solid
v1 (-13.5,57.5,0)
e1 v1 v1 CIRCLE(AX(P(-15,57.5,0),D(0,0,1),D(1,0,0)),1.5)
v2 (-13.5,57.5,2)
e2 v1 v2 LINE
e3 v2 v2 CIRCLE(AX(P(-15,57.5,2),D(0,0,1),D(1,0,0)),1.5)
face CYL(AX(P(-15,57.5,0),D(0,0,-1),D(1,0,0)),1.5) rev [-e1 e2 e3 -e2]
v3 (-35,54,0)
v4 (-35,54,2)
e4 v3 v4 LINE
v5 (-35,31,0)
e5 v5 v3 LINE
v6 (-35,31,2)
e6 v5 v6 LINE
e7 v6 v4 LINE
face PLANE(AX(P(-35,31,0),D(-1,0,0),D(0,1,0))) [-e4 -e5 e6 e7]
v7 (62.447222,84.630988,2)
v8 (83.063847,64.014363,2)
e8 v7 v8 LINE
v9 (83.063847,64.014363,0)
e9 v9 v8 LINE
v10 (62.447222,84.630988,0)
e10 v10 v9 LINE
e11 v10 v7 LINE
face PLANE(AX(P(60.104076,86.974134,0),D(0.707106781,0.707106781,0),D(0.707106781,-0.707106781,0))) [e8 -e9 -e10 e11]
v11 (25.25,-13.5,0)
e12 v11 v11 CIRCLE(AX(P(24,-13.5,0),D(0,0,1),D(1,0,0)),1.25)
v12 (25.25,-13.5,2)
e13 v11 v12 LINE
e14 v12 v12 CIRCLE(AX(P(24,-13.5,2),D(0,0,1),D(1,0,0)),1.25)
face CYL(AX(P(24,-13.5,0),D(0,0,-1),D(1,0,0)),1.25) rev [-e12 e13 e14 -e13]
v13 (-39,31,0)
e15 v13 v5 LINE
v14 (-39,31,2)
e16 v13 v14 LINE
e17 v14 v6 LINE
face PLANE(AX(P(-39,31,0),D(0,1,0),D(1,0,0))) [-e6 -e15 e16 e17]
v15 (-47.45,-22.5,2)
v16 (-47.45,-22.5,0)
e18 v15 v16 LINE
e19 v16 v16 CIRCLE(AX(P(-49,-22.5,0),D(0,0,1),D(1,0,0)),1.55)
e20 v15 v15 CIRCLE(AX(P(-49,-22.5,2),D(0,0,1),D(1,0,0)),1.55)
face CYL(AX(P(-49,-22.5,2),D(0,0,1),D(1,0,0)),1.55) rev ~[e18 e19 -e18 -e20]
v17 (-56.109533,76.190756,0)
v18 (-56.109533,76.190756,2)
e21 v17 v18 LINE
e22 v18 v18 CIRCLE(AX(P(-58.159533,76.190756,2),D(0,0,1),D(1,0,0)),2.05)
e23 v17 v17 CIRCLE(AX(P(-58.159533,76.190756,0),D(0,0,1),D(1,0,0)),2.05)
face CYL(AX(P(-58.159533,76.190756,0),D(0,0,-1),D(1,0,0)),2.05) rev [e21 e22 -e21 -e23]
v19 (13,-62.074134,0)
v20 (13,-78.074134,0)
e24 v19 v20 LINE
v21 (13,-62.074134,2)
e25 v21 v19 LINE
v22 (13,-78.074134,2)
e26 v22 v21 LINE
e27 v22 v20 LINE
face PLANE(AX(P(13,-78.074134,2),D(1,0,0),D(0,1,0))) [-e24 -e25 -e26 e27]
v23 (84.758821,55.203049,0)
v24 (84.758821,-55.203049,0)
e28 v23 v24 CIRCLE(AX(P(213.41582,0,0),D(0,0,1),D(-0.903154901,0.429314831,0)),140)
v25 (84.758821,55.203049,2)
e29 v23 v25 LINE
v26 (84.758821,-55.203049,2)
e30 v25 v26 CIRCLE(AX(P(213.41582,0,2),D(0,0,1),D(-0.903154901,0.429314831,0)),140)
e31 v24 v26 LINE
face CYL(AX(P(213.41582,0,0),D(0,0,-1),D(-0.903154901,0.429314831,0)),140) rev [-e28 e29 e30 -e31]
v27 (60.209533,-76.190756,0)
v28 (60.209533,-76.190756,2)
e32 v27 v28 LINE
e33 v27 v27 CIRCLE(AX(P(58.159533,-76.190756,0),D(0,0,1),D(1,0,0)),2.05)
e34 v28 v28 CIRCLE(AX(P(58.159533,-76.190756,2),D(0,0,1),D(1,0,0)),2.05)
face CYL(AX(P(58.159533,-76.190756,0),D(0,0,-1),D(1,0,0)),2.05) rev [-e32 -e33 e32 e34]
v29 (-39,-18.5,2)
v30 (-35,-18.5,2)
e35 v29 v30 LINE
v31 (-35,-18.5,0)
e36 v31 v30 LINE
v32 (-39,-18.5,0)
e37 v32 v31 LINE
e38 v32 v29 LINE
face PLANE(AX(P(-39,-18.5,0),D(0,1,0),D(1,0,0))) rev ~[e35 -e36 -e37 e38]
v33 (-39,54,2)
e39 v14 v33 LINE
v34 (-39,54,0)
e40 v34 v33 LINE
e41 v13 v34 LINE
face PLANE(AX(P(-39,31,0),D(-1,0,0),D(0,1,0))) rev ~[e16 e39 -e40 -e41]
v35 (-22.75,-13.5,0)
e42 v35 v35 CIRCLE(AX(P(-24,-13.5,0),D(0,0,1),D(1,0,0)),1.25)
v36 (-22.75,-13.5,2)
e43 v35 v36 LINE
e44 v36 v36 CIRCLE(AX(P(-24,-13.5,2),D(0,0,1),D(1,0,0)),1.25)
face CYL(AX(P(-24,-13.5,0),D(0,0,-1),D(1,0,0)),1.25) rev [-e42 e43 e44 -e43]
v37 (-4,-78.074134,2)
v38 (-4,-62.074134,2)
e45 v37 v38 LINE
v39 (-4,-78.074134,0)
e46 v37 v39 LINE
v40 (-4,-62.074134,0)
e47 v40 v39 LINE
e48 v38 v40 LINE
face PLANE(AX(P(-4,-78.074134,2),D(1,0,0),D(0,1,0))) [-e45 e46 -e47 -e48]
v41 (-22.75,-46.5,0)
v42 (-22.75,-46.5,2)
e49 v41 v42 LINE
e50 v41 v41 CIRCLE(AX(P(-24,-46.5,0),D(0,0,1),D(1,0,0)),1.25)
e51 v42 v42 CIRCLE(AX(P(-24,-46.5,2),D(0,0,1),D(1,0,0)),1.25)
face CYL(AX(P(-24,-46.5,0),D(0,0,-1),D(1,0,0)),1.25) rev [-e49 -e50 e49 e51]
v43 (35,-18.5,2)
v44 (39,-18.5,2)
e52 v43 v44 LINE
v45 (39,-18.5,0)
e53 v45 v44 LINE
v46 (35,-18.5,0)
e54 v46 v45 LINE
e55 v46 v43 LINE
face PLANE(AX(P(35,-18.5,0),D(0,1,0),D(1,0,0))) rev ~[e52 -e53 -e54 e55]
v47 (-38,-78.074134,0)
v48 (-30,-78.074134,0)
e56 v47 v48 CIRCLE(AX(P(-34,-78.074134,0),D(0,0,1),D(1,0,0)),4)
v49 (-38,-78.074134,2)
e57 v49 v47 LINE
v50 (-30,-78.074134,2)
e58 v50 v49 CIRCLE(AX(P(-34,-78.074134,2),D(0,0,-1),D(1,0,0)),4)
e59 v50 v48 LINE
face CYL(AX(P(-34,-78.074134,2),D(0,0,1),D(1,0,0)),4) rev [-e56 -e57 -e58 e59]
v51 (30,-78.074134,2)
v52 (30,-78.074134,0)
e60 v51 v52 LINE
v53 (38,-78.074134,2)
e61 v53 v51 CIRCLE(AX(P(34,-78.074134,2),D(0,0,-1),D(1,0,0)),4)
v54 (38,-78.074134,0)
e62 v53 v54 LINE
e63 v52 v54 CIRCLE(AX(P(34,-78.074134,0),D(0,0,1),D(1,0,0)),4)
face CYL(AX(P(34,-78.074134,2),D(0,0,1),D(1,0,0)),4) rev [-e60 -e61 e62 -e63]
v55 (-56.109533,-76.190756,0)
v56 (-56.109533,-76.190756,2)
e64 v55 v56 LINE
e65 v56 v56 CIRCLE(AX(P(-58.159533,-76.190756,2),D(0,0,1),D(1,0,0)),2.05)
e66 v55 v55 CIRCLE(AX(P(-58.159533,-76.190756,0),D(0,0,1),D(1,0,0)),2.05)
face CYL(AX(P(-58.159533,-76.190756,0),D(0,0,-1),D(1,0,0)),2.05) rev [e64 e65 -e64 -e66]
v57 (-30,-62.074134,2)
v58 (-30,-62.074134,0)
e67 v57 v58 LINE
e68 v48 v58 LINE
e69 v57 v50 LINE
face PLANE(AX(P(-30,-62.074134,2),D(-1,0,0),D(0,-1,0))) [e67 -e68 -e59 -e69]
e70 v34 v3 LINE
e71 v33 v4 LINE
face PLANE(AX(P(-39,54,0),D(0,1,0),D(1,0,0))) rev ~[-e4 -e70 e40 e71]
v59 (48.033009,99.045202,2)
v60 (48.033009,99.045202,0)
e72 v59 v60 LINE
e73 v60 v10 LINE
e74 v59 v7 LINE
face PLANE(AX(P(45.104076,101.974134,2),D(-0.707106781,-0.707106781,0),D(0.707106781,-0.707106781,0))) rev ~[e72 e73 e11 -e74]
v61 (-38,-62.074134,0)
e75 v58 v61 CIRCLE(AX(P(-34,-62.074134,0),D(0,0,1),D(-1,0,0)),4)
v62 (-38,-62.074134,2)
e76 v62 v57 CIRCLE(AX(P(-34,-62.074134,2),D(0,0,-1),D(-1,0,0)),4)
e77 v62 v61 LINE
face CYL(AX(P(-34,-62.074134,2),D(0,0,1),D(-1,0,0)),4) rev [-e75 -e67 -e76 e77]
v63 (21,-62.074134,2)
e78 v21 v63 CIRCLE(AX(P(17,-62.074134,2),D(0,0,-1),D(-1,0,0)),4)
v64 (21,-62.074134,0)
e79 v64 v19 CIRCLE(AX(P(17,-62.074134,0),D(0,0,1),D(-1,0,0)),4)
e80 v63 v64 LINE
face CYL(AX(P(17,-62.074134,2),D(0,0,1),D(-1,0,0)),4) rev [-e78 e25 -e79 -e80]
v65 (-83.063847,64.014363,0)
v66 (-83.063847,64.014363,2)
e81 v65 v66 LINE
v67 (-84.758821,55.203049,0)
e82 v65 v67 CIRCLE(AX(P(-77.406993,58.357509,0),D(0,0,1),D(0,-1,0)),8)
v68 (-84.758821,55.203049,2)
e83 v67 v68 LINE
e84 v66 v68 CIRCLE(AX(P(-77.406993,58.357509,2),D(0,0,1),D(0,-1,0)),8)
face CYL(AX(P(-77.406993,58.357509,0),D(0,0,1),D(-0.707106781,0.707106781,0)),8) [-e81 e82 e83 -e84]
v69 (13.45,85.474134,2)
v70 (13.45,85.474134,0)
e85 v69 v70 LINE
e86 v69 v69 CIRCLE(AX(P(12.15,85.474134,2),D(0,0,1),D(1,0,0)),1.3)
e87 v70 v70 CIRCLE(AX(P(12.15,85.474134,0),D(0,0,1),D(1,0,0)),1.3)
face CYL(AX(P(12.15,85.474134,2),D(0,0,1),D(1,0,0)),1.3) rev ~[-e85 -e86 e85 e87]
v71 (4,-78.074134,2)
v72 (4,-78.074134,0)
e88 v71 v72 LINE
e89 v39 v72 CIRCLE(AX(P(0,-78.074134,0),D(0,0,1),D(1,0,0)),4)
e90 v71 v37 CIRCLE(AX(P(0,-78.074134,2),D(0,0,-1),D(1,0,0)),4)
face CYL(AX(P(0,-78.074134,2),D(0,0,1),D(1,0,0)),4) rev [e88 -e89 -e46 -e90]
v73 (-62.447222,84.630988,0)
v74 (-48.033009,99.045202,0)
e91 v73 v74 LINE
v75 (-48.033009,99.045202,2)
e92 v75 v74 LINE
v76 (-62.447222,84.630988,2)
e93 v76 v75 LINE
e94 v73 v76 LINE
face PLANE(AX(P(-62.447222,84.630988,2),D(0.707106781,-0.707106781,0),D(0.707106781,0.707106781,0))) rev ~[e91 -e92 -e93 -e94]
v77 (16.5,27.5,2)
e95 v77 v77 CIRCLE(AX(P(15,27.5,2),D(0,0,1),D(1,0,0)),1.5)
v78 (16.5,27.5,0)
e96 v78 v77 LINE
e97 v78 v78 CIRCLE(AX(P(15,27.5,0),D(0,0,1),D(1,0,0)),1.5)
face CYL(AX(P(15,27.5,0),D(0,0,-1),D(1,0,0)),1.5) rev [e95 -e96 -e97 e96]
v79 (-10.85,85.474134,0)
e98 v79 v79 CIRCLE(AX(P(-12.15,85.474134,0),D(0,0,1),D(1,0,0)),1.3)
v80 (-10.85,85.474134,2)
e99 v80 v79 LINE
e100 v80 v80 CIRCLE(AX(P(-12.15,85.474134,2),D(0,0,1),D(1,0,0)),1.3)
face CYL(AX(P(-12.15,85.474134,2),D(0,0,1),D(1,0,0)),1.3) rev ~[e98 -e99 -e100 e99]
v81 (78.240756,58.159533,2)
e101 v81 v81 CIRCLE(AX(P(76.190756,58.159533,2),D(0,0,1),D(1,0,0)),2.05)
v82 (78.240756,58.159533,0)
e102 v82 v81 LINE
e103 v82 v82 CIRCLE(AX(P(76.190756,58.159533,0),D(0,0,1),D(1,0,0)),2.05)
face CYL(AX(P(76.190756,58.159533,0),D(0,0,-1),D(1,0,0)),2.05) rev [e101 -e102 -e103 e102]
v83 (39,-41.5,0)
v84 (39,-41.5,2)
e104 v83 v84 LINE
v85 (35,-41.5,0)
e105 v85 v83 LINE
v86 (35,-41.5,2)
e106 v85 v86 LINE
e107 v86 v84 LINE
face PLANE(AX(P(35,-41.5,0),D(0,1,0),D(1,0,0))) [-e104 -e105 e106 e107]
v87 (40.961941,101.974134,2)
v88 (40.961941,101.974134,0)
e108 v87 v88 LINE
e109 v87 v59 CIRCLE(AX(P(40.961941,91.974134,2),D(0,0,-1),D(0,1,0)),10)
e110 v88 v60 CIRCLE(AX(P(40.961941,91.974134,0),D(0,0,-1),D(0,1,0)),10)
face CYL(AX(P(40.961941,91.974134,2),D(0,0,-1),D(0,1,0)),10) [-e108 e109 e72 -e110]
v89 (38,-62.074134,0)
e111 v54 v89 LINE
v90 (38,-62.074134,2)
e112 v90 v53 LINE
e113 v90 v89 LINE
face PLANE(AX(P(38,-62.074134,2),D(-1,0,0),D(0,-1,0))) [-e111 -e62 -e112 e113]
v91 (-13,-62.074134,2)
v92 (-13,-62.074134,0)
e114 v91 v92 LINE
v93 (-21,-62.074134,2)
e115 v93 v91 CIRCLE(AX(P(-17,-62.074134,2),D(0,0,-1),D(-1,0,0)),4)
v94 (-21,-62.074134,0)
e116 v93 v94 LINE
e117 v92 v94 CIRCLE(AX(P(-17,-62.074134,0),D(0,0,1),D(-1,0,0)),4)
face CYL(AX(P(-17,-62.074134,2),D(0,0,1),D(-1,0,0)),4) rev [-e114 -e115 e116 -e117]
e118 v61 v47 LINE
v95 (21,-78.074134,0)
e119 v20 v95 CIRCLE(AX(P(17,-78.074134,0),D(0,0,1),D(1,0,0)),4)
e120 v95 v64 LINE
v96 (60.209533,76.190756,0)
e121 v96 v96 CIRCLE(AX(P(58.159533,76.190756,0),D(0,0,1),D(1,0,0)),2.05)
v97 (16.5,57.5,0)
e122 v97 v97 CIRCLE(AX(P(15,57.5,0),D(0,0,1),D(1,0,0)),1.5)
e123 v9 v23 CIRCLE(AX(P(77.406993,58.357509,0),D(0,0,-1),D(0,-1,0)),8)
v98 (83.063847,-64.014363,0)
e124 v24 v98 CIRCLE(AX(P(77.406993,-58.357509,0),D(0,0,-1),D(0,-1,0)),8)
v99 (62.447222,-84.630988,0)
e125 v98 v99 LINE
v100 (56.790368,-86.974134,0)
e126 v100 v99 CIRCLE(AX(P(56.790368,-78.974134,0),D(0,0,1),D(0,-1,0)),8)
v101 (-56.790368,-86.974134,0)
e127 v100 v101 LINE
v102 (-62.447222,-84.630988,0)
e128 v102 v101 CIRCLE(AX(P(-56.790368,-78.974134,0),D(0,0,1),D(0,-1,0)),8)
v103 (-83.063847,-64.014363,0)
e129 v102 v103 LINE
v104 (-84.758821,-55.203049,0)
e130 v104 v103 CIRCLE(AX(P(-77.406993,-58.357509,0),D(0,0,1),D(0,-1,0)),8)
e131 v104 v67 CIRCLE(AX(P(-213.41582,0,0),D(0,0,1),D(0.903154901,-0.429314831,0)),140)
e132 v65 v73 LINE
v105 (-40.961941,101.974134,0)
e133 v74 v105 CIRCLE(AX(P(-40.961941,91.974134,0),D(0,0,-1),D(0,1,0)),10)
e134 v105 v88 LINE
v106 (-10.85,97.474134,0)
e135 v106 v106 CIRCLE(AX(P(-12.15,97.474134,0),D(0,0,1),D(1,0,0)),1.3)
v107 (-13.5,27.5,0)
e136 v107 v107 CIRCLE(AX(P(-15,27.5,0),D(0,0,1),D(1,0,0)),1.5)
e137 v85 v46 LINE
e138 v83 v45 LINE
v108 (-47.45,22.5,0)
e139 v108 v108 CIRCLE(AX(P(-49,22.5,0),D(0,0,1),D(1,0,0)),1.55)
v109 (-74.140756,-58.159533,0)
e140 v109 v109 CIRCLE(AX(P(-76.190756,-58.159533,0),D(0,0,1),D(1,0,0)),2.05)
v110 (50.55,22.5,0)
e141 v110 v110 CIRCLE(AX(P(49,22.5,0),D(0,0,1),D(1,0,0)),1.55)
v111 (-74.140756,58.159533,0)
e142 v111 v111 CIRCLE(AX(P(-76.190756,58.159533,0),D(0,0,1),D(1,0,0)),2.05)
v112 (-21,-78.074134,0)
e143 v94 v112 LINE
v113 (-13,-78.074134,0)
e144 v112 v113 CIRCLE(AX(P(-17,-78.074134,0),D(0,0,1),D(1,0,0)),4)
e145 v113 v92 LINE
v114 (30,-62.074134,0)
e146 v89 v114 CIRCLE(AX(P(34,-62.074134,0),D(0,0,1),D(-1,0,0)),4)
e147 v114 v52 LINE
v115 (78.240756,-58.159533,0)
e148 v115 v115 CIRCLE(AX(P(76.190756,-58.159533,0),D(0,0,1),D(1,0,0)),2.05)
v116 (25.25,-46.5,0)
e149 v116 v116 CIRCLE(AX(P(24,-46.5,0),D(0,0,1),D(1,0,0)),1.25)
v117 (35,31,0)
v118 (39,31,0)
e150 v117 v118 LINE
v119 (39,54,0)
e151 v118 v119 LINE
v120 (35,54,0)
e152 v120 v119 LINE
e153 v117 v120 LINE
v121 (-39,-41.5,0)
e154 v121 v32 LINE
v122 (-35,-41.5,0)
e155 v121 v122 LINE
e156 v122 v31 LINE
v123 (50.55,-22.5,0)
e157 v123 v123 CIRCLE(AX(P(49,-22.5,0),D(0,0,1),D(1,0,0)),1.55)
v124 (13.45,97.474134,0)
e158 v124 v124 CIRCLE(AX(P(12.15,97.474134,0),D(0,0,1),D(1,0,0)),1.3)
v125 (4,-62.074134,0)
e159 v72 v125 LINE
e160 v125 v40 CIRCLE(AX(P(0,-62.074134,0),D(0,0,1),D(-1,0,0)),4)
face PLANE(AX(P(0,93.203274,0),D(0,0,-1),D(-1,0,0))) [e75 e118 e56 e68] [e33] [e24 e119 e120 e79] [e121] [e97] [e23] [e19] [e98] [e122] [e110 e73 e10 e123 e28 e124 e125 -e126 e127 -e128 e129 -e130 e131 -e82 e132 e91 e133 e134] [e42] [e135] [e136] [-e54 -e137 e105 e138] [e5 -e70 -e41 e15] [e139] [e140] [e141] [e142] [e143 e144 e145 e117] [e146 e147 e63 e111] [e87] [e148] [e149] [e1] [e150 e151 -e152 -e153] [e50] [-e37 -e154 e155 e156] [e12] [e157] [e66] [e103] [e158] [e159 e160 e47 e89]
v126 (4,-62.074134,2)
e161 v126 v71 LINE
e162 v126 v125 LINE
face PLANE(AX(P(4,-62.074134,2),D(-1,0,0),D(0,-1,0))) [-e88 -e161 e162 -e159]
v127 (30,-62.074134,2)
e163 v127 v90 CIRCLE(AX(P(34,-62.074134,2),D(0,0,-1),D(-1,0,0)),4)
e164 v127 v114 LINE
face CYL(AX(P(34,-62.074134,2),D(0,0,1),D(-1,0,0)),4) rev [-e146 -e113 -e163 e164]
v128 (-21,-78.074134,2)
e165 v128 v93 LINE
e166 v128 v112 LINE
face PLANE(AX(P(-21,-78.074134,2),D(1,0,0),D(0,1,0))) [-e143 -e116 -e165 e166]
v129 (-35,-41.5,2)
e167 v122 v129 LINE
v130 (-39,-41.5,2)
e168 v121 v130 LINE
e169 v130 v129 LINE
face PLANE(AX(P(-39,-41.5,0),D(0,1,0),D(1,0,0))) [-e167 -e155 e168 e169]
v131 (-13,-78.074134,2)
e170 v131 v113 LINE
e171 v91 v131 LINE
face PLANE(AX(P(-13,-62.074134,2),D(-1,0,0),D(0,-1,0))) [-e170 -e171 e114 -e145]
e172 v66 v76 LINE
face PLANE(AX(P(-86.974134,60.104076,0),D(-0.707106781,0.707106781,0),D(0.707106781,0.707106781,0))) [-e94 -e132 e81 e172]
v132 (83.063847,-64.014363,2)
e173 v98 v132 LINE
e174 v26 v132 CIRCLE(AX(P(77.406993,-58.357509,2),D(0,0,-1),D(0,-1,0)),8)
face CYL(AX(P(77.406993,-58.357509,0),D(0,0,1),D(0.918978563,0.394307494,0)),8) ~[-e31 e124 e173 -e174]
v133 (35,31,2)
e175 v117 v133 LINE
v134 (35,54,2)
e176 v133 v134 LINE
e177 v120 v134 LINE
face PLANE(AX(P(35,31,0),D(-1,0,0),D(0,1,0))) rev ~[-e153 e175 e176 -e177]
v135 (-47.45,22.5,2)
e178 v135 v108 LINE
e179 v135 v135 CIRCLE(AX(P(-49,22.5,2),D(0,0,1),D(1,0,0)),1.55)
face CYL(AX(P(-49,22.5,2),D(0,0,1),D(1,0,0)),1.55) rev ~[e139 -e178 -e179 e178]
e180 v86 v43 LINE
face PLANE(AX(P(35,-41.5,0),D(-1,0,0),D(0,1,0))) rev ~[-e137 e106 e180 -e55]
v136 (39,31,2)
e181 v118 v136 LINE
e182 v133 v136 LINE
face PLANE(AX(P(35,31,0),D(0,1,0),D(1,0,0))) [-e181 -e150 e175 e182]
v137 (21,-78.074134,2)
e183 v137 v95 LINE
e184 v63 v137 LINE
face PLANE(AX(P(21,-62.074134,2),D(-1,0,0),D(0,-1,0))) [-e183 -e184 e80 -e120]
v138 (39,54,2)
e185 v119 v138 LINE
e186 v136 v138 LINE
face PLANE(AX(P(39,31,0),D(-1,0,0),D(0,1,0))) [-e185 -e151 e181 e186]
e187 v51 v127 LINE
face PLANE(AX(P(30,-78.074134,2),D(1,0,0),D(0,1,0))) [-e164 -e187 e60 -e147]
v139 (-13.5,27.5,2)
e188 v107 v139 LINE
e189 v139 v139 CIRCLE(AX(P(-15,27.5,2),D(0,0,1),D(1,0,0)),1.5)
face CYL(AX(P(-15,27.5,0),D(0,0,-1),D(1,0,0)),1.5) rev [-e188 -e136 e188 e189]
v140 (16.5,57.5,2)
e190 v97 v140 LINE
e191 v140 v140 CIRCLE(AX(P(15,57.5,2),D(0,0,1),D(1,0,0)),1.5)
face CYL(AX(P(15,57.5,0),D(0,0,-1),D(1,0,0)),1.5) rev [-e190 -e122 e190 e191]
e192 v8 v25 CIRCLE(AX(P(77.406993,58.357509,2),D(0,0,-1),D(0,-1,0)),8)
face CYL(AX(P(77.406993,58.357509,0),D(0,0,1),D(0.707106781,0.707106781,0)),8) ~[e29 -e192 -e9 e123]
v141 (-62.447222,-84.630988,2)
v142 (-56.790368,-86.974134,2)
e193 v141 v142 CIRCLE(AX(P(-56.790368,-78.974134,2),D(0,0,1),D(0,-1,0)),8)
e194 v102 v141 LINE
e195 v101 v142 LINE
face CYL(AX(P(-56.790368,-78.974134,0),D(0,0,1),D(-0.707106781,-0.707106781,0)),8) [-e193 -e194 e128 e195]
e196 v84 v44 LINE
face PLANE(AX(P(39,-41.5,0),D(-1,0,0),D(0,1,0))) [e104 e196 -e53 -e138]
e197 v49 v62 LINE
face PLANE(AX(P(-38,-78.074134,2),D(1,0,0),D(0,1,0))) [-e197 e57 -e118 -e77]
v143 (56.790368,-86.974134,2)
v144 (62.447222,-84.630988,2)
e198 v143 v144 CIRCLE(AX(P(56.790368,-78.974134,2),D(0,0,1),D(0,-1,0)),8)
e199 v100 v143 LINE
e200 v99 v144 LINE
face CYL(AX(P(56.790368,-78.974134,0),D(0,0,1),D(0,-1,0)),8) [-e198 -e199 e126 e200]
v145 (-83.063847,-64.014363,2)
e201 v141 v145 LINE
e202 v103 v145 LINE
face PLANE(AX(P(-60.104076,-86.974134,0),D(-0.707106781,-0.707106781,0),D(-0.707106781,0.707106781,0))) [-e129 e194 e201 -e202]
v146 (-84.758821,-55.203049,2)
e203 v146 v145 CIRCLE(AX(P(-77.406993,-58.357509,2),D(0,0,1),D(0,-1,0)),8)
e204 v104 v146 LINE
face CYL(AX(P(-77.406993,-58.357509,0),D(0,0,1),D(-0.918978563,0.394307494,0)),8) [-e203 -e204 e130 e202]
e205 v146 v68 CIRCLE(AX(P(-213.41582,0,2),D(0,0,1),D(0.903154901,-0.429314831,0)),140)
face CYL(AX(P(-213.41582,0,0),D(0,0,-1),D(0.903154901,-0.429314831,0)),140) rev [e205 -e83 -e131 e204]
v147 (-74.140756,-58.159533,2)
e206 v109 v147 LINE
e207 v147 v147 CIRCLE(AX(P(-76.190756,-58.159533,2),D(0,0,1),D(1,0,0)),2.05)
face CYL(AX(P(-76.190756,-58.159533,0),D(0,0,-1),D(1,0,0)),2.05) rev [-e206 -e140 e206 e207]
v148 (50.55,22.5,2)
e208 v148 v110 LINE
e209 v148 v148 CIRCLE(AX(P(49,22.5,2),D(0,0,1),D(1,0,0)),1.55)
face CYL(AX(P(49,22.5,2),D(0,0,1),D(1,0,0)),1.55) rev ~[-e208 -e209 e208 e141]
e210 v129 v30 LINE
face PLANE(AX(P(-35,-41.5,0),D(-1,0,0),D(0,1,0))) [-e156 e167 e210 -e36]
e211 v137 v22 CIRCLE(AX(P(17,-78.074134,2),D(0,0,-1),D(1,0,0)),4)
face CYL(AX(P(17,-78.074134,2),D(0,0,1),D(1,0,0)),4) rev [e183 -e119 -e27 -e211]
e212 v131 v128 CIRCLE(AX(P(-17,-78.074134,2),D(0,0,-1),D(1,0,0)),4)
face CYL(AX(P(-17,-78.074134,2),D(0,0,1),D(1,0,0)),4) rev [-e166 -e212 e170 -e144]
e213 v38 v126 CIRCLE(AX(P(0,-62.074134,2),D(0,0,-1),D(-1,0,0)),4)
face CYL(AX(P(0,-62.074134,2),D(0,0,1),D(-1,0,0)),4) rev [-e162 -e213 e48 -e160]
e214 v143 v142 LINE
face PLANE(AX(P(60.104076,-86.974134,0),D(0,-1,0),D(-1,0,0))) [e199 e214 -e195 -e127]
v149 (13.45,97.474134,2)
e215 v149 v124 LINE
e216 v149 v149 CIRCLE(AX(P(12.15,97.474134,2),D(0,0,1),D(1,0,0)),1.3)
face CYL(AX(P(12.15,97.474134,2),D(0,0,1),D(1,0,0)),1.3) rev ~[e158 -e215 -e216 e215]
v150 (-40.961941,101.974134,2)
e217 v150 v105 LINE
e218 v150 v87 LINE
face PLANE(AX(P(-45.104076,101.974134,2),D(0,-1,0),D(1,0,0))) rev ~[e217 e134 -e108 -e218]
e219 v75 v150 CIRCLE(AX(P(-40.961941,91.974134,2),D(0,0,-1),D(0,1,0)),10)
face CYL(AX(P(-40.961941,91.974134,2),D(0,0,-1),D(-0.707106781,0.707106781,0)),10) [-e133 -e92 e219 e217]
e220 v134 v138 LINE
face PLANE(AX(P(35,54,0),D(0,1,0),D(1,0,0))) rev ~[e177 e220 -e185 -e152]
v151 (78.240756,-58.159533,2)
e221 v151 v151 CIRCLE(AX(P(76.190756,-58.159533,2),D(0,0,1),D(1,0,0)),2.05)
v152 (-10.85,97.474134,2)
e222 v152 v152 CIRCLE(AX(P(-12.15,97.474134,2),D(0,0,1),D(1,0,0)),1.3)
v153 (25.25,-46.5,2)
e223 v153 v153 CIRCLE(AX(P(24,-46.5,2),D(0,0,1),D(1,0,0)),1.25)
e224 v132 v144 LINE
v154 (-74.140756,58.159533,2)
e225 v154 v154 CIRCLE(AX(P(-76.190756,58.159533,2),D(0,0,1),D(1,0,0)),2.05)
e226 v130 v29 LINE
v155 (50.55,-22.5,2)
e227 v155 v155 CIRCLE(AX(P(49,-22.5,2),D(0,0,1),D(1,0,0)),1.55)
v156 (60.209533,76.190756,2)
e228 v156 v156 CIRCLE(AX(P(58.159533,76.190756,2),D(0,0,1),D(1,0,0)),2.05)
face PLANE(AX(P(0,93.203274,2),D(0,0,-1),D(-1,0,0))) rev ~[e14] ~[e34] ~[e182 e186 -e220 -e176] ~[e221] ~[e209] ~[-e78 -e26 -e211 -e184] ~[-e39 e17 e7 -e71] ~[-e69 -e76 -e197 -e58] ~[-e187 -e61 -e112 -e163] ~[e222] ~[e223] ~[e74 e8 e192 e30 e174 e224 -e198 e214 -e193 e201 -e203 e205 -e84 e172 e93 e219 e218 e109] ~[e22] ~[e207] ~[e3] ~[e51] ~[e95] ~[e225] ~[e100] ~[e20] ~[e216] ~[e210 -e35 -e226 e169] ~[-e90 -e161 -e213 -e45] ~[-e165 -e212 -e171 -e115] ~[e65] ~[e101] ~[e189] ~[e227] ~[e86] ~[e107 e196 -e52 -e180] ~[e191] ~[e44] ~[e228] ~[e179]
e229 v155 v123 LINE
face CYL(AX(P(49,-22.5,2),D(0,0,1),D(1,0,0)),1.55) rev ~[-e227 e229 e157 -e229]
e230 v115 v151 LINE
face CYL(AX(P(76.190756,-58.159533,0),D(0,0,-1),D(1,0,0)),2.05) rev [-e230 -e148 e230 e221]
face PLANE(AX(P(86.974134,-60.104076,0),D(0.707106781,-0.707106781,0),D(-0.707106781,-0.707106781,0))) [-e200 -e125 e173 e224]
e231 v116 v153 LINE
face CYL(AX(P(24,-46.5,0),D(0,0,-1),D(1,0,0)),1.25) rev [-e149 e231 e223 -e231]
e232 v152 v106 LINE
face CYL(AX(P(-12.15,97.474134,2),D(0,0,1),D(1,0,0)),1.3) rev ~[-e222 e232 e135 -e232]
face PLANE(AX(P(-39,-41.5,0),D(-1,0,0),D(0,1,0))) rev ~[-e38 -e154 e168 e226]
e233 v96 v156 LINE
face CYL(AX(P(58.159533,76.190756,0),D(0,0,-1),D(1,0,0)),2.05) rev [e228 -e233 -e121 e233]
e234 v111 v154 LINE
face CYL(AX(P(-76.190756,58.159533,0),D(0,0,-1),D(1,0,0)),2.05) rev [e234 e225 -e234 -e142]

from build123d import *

# Parameters (mm, degrees)
SKETCH1_R           = 1.5
SKETCH1_R_2         = 1.25
SKETCH1_R_3         = 2.05
SKETCH1_W           = 4
SKETCH1_H           = 23
BOSS_EXTRUDE1_DEPTH = 2
FILLET7_R           = 8
BOSS_EXTRUDE2_DEPTH = 2
FILLET8_R           = 10
SKETCH5_R           = 1.55
CUT_EXTRUDE1_DEPTH  = 10
CUT_EXTRUDE2_DEPTH  = 10
SKETCH8_R           = 1.3
CUT_EXTRUDE4_DEPTH  = 10


with BuildPart() as part:
    # Sketch1 → Boss-Extrude1 (new body)
    with BuildSketch(Plane.XY):
        with BuildLine():
            Line((-86.974134086, 60.104076401), (-60.104076401, 86.974134086))
            Line((-60.104076401, 86.974134086), (60.104076401, 86.974134086))
            Line((60.104076401, 86.974134086), (86.974134086, 60.104076401))
            ThreePointArc((86.974134086, 60.104076401), (73.41582025, 0), (86.974134086, -60.104076401))
            Line((86.974134086, -60.104076401), (60.104076401, -86.974134086))
            Line((60.104076401, -86.974134086), (-60.104076401, -86.974134086))
            Line((-60.104076401, -86.974134086), (-86.974134086, -60.104076401))
            ThreePointArc((-86.974134086, -60.104076401), (-73.41582025, 0), (-86.974134086, 60.104076401))
        make_face()
        with Locations((-15, 57.5)):
            Circle(SKETCH1_R, mode=Mode.SUBTRACT)
        with Locations((-15, 27.5)):
            Circle(SKETCH1_R, mode=Mode.SUBTRACT)
        with Locations((15, 27.5)):
            Circle(SKETCH1_R, mode=Mode.SUBTRACT)
        with Locations((15, 57.5)):
            Circle(SKETCH1_R, mode=Mode.SUBTRACT)
        with Locations((-24, -13.5)):
            Circle(SKETCH1_R_2, mode=Mode.SUBTRACT)
        with Locations((24, -13.5)):
            Circle(SKETCH1_R_2, mode=Mode.SUBTRACT)
        with Locations((24, -46.5)):
            Circle(SKETCH1_R_2, mode=Mode.SUBTRACT)
        with Locations((-24, -46.5)):
            Circle(SKETCH1_R_2, mode=Mode.SUBTRACT)
        with Locations((-76.190755673, 58.159532753)):
            Circle(SKETCH1_R_3, mode=Mode.SUBTRACT)
        with Locations((-58.159532753, 76.190755673)):
            Circle(SKETCH1_R_3, mode=Mode.SUBTRACT)
        with Locations((76.190755673, -58.159532753)):
            Circle(SKETCH1_R_3, mode=Mode.SUBTRACT)
        with Locations((58.159532753, -76.190755673)):
            Circle(SKETCH1_R_3, mode=Mode.SUBTRACT)
        with Locations((-58.159532753, -76.190755673)):
            Circle(SKETCH1_R_3, mode=Mode.SUBTRACT)
        with Locations((-76.190755673, -58.159532753)):
            Circle(SKETCH1_R_3, mode=Mode.SUBTRACT)
        with Locations((58.159532753, 76.190755673)):
            Circle(SKETCH1_R_3, mode=Mode.SUBTRACT)
        with Locations((76.190755673, 58.159532753)):
            Circle(SKETCH1_R_3, mode=Mode.SUBTRACT)
        with Locations((-37, 42.5)):
            Rectangle(SKETCH1_W, SKETCH1_H, mode=Mode.SUBTRACT)
        with Locations((37, 42.5)):
            Rectangle(SKETCH1_W, SKETCH1_H, mode=Mode.SUBTRACT)
        with Locations((37, -30)):
            Rectangle(SKETCH1_W, SKETCH1_H, mode=Mode.SUBTRACT)
        with Locations((-37, -30)):
            Rectangle(SKETCH1_W, SKETCH1_H, mode=Mode.SUBTRACT)
    extrude(amount=BOSS_EXTRUDE1_DEPTH)

    # Fillet7
    fillet7_edges = [part.edges().sort_by_distance(p)[0] for p in [
        (86.974134086, -60.104076401, 1),
        (60.104076401, -86.974134086, 1),
        (-60.104076401, -86.974134086, 1),
        (-86.974134086, -60.104076401, 1),
        (-86.974134086, 60.104076401, 1),
        (-60.104076401, 86.974134086, 1),
        (60.104076401, 86.974134086, 1),
        (86.974134086, 60.104076401, 1),
    ]]
    fillet(fillet7_edges, radius=FILLET7_R)

    # Sketch2 → Boss-Extrude2 (add)
    with BuildSketch(Plane.XY.offset(2)):
        with BuildLine():
            Line((-62.447222151, 84.630988335), (-45.104076401, 101.974134086))
            Line((-45.104076401, 101.974134086), (45.104076401, 101.974134086))
            Line((45.104076401, 101.974134086), (62.447222151, 84.630988335))
            ThreePointArc((62.447222151, 84.630988335), (59.851835361, 86.365170346), (56.790367902, 86.974134086))
            Line((56.790367902, 86.974134086), (-56.790367902, 86.974134086))
            ThreePointArc((-56.790367902, 86.974134086), (-59.851835361, 86.365170346), (-62.447222151, 84.630988335))
        make_face()
    extrude(amount=-BOSS_EXTRUDE2_DEPTH)

    # Fillet8
    fillet8_edges = [part.edges().sort_by_distance(p)[0] for p in [
        (-45.104076401, 101.974134086, 1),
        (45.104076401, 101.974134086, 1),
    ]]
    fillet(fillet8_edges, radius=FILLET8_R)

    # Sketch5 → Cut-Extrude1 (cut)
    with BuildSketch(Plane.XY.offset(2)):
        with Locations((49, 22.5)):
            Circle(SKETCH5_R)
        with Locations((49, -22.5)):
            Circle(SKETCH5_R)
        with Locations((-49, -22.5)):
            Circle(SKETCH5_R)
        with Locations((-49, 22.5)):
            Circle(SKETCH5_R)
    extrude(amount=-CUT_EXTRUDE1_DEPTH, mode=Mode.SUBTRACT)

    # Sketch6 → Cut-Extrude2 (cut)
    with BuildSketch(Plane.XY.offset(2)):
        with BuildLine():
            Line((-30, -62.074134086), (-30, -78.074134086))
            ThreePointArc((-30, -78.074134086), (-34, -82.074134086), (-38, -78.074134086))
            Line((-38, -78.074134086), (-38, -62.074134086))
            ThreePointArc((-38, -62.074134086), (-34, -58.074134086), (-30, -62.074134086))
        make_face()
        with BuildLine():
            Line((-13, -62.074134086), (-13, -78.074134086))
            ThreePointArc((-13, -78.074134086), (-17, -82.074134086), (-21, -78.074134086))
            Line((-21, -78.074134086), (-21, -62.074134086))
            ThreePointArc((-21, -62.074134086), (-17, -58.074134086), (-13, -62.074134086))
        make_face()
        with BuildLine():
            Line((4, -62.074134086), (4, -78.074134086))
            ThreePointArc((4, -78.074134086), (0, -82.074134086), (-4, -78.074134086))
            Line((-4, -78.074134086), (-4, -62.074134086))
            ThreePointArc((-4, -62.074134086), (0, -58.074134086), (4, -62.074134086))
        make_face()
        with BuildLine():
            Line((21, -62.074134086), (21, -78.074134086))
            ThreePointArc((21, -78.074134086), (17, -82.074134086), (13, -78.074134086))
            Line((13, -78.074134086), (13, -62.074134086))
            ThreePointArc((13, -62.074134086), (17, -58.074134086), (21, -62.074134086))
        make_face()
        with BuildLine():
            Line((38, -62.074134086), (38, -78.074134086))
            ThreePointArc((38, -78.074134086), (34, -82.074134086), (30, -78.074134086))
            Line((30, -78.074134086), (30, -62.074134086))
            ThreePointArc((30, -62.074134086), (34, -58.074134086), (38, -62.074134086))
        make_face()
    extrude(amount=-CUT_EXTRUDE2_DEPTH, mode=Mode.SUBTRACT)

    # Sketch8 → Cut-Extrude4 (cut)
    with BuildSketch(Plane.XY.offset(2)):
        with Locations((12.15, 97.474134086)):
            Circle(SKETCH8_R)
        with Locations((12.15, 85.474134086)):
            Circle(SKETCH8_R)
        with Locations((-12.15, 85.474134086)):
            Circle(SKETCH8_R)
        with Locations((-12.15, 97.474134086)):
            Circle(SKETCH8_R)
    extrude(amount=-CUT_EXTRUDE4_DEPTH, mode=Mode.SUBTRACT)


solid = part.part
